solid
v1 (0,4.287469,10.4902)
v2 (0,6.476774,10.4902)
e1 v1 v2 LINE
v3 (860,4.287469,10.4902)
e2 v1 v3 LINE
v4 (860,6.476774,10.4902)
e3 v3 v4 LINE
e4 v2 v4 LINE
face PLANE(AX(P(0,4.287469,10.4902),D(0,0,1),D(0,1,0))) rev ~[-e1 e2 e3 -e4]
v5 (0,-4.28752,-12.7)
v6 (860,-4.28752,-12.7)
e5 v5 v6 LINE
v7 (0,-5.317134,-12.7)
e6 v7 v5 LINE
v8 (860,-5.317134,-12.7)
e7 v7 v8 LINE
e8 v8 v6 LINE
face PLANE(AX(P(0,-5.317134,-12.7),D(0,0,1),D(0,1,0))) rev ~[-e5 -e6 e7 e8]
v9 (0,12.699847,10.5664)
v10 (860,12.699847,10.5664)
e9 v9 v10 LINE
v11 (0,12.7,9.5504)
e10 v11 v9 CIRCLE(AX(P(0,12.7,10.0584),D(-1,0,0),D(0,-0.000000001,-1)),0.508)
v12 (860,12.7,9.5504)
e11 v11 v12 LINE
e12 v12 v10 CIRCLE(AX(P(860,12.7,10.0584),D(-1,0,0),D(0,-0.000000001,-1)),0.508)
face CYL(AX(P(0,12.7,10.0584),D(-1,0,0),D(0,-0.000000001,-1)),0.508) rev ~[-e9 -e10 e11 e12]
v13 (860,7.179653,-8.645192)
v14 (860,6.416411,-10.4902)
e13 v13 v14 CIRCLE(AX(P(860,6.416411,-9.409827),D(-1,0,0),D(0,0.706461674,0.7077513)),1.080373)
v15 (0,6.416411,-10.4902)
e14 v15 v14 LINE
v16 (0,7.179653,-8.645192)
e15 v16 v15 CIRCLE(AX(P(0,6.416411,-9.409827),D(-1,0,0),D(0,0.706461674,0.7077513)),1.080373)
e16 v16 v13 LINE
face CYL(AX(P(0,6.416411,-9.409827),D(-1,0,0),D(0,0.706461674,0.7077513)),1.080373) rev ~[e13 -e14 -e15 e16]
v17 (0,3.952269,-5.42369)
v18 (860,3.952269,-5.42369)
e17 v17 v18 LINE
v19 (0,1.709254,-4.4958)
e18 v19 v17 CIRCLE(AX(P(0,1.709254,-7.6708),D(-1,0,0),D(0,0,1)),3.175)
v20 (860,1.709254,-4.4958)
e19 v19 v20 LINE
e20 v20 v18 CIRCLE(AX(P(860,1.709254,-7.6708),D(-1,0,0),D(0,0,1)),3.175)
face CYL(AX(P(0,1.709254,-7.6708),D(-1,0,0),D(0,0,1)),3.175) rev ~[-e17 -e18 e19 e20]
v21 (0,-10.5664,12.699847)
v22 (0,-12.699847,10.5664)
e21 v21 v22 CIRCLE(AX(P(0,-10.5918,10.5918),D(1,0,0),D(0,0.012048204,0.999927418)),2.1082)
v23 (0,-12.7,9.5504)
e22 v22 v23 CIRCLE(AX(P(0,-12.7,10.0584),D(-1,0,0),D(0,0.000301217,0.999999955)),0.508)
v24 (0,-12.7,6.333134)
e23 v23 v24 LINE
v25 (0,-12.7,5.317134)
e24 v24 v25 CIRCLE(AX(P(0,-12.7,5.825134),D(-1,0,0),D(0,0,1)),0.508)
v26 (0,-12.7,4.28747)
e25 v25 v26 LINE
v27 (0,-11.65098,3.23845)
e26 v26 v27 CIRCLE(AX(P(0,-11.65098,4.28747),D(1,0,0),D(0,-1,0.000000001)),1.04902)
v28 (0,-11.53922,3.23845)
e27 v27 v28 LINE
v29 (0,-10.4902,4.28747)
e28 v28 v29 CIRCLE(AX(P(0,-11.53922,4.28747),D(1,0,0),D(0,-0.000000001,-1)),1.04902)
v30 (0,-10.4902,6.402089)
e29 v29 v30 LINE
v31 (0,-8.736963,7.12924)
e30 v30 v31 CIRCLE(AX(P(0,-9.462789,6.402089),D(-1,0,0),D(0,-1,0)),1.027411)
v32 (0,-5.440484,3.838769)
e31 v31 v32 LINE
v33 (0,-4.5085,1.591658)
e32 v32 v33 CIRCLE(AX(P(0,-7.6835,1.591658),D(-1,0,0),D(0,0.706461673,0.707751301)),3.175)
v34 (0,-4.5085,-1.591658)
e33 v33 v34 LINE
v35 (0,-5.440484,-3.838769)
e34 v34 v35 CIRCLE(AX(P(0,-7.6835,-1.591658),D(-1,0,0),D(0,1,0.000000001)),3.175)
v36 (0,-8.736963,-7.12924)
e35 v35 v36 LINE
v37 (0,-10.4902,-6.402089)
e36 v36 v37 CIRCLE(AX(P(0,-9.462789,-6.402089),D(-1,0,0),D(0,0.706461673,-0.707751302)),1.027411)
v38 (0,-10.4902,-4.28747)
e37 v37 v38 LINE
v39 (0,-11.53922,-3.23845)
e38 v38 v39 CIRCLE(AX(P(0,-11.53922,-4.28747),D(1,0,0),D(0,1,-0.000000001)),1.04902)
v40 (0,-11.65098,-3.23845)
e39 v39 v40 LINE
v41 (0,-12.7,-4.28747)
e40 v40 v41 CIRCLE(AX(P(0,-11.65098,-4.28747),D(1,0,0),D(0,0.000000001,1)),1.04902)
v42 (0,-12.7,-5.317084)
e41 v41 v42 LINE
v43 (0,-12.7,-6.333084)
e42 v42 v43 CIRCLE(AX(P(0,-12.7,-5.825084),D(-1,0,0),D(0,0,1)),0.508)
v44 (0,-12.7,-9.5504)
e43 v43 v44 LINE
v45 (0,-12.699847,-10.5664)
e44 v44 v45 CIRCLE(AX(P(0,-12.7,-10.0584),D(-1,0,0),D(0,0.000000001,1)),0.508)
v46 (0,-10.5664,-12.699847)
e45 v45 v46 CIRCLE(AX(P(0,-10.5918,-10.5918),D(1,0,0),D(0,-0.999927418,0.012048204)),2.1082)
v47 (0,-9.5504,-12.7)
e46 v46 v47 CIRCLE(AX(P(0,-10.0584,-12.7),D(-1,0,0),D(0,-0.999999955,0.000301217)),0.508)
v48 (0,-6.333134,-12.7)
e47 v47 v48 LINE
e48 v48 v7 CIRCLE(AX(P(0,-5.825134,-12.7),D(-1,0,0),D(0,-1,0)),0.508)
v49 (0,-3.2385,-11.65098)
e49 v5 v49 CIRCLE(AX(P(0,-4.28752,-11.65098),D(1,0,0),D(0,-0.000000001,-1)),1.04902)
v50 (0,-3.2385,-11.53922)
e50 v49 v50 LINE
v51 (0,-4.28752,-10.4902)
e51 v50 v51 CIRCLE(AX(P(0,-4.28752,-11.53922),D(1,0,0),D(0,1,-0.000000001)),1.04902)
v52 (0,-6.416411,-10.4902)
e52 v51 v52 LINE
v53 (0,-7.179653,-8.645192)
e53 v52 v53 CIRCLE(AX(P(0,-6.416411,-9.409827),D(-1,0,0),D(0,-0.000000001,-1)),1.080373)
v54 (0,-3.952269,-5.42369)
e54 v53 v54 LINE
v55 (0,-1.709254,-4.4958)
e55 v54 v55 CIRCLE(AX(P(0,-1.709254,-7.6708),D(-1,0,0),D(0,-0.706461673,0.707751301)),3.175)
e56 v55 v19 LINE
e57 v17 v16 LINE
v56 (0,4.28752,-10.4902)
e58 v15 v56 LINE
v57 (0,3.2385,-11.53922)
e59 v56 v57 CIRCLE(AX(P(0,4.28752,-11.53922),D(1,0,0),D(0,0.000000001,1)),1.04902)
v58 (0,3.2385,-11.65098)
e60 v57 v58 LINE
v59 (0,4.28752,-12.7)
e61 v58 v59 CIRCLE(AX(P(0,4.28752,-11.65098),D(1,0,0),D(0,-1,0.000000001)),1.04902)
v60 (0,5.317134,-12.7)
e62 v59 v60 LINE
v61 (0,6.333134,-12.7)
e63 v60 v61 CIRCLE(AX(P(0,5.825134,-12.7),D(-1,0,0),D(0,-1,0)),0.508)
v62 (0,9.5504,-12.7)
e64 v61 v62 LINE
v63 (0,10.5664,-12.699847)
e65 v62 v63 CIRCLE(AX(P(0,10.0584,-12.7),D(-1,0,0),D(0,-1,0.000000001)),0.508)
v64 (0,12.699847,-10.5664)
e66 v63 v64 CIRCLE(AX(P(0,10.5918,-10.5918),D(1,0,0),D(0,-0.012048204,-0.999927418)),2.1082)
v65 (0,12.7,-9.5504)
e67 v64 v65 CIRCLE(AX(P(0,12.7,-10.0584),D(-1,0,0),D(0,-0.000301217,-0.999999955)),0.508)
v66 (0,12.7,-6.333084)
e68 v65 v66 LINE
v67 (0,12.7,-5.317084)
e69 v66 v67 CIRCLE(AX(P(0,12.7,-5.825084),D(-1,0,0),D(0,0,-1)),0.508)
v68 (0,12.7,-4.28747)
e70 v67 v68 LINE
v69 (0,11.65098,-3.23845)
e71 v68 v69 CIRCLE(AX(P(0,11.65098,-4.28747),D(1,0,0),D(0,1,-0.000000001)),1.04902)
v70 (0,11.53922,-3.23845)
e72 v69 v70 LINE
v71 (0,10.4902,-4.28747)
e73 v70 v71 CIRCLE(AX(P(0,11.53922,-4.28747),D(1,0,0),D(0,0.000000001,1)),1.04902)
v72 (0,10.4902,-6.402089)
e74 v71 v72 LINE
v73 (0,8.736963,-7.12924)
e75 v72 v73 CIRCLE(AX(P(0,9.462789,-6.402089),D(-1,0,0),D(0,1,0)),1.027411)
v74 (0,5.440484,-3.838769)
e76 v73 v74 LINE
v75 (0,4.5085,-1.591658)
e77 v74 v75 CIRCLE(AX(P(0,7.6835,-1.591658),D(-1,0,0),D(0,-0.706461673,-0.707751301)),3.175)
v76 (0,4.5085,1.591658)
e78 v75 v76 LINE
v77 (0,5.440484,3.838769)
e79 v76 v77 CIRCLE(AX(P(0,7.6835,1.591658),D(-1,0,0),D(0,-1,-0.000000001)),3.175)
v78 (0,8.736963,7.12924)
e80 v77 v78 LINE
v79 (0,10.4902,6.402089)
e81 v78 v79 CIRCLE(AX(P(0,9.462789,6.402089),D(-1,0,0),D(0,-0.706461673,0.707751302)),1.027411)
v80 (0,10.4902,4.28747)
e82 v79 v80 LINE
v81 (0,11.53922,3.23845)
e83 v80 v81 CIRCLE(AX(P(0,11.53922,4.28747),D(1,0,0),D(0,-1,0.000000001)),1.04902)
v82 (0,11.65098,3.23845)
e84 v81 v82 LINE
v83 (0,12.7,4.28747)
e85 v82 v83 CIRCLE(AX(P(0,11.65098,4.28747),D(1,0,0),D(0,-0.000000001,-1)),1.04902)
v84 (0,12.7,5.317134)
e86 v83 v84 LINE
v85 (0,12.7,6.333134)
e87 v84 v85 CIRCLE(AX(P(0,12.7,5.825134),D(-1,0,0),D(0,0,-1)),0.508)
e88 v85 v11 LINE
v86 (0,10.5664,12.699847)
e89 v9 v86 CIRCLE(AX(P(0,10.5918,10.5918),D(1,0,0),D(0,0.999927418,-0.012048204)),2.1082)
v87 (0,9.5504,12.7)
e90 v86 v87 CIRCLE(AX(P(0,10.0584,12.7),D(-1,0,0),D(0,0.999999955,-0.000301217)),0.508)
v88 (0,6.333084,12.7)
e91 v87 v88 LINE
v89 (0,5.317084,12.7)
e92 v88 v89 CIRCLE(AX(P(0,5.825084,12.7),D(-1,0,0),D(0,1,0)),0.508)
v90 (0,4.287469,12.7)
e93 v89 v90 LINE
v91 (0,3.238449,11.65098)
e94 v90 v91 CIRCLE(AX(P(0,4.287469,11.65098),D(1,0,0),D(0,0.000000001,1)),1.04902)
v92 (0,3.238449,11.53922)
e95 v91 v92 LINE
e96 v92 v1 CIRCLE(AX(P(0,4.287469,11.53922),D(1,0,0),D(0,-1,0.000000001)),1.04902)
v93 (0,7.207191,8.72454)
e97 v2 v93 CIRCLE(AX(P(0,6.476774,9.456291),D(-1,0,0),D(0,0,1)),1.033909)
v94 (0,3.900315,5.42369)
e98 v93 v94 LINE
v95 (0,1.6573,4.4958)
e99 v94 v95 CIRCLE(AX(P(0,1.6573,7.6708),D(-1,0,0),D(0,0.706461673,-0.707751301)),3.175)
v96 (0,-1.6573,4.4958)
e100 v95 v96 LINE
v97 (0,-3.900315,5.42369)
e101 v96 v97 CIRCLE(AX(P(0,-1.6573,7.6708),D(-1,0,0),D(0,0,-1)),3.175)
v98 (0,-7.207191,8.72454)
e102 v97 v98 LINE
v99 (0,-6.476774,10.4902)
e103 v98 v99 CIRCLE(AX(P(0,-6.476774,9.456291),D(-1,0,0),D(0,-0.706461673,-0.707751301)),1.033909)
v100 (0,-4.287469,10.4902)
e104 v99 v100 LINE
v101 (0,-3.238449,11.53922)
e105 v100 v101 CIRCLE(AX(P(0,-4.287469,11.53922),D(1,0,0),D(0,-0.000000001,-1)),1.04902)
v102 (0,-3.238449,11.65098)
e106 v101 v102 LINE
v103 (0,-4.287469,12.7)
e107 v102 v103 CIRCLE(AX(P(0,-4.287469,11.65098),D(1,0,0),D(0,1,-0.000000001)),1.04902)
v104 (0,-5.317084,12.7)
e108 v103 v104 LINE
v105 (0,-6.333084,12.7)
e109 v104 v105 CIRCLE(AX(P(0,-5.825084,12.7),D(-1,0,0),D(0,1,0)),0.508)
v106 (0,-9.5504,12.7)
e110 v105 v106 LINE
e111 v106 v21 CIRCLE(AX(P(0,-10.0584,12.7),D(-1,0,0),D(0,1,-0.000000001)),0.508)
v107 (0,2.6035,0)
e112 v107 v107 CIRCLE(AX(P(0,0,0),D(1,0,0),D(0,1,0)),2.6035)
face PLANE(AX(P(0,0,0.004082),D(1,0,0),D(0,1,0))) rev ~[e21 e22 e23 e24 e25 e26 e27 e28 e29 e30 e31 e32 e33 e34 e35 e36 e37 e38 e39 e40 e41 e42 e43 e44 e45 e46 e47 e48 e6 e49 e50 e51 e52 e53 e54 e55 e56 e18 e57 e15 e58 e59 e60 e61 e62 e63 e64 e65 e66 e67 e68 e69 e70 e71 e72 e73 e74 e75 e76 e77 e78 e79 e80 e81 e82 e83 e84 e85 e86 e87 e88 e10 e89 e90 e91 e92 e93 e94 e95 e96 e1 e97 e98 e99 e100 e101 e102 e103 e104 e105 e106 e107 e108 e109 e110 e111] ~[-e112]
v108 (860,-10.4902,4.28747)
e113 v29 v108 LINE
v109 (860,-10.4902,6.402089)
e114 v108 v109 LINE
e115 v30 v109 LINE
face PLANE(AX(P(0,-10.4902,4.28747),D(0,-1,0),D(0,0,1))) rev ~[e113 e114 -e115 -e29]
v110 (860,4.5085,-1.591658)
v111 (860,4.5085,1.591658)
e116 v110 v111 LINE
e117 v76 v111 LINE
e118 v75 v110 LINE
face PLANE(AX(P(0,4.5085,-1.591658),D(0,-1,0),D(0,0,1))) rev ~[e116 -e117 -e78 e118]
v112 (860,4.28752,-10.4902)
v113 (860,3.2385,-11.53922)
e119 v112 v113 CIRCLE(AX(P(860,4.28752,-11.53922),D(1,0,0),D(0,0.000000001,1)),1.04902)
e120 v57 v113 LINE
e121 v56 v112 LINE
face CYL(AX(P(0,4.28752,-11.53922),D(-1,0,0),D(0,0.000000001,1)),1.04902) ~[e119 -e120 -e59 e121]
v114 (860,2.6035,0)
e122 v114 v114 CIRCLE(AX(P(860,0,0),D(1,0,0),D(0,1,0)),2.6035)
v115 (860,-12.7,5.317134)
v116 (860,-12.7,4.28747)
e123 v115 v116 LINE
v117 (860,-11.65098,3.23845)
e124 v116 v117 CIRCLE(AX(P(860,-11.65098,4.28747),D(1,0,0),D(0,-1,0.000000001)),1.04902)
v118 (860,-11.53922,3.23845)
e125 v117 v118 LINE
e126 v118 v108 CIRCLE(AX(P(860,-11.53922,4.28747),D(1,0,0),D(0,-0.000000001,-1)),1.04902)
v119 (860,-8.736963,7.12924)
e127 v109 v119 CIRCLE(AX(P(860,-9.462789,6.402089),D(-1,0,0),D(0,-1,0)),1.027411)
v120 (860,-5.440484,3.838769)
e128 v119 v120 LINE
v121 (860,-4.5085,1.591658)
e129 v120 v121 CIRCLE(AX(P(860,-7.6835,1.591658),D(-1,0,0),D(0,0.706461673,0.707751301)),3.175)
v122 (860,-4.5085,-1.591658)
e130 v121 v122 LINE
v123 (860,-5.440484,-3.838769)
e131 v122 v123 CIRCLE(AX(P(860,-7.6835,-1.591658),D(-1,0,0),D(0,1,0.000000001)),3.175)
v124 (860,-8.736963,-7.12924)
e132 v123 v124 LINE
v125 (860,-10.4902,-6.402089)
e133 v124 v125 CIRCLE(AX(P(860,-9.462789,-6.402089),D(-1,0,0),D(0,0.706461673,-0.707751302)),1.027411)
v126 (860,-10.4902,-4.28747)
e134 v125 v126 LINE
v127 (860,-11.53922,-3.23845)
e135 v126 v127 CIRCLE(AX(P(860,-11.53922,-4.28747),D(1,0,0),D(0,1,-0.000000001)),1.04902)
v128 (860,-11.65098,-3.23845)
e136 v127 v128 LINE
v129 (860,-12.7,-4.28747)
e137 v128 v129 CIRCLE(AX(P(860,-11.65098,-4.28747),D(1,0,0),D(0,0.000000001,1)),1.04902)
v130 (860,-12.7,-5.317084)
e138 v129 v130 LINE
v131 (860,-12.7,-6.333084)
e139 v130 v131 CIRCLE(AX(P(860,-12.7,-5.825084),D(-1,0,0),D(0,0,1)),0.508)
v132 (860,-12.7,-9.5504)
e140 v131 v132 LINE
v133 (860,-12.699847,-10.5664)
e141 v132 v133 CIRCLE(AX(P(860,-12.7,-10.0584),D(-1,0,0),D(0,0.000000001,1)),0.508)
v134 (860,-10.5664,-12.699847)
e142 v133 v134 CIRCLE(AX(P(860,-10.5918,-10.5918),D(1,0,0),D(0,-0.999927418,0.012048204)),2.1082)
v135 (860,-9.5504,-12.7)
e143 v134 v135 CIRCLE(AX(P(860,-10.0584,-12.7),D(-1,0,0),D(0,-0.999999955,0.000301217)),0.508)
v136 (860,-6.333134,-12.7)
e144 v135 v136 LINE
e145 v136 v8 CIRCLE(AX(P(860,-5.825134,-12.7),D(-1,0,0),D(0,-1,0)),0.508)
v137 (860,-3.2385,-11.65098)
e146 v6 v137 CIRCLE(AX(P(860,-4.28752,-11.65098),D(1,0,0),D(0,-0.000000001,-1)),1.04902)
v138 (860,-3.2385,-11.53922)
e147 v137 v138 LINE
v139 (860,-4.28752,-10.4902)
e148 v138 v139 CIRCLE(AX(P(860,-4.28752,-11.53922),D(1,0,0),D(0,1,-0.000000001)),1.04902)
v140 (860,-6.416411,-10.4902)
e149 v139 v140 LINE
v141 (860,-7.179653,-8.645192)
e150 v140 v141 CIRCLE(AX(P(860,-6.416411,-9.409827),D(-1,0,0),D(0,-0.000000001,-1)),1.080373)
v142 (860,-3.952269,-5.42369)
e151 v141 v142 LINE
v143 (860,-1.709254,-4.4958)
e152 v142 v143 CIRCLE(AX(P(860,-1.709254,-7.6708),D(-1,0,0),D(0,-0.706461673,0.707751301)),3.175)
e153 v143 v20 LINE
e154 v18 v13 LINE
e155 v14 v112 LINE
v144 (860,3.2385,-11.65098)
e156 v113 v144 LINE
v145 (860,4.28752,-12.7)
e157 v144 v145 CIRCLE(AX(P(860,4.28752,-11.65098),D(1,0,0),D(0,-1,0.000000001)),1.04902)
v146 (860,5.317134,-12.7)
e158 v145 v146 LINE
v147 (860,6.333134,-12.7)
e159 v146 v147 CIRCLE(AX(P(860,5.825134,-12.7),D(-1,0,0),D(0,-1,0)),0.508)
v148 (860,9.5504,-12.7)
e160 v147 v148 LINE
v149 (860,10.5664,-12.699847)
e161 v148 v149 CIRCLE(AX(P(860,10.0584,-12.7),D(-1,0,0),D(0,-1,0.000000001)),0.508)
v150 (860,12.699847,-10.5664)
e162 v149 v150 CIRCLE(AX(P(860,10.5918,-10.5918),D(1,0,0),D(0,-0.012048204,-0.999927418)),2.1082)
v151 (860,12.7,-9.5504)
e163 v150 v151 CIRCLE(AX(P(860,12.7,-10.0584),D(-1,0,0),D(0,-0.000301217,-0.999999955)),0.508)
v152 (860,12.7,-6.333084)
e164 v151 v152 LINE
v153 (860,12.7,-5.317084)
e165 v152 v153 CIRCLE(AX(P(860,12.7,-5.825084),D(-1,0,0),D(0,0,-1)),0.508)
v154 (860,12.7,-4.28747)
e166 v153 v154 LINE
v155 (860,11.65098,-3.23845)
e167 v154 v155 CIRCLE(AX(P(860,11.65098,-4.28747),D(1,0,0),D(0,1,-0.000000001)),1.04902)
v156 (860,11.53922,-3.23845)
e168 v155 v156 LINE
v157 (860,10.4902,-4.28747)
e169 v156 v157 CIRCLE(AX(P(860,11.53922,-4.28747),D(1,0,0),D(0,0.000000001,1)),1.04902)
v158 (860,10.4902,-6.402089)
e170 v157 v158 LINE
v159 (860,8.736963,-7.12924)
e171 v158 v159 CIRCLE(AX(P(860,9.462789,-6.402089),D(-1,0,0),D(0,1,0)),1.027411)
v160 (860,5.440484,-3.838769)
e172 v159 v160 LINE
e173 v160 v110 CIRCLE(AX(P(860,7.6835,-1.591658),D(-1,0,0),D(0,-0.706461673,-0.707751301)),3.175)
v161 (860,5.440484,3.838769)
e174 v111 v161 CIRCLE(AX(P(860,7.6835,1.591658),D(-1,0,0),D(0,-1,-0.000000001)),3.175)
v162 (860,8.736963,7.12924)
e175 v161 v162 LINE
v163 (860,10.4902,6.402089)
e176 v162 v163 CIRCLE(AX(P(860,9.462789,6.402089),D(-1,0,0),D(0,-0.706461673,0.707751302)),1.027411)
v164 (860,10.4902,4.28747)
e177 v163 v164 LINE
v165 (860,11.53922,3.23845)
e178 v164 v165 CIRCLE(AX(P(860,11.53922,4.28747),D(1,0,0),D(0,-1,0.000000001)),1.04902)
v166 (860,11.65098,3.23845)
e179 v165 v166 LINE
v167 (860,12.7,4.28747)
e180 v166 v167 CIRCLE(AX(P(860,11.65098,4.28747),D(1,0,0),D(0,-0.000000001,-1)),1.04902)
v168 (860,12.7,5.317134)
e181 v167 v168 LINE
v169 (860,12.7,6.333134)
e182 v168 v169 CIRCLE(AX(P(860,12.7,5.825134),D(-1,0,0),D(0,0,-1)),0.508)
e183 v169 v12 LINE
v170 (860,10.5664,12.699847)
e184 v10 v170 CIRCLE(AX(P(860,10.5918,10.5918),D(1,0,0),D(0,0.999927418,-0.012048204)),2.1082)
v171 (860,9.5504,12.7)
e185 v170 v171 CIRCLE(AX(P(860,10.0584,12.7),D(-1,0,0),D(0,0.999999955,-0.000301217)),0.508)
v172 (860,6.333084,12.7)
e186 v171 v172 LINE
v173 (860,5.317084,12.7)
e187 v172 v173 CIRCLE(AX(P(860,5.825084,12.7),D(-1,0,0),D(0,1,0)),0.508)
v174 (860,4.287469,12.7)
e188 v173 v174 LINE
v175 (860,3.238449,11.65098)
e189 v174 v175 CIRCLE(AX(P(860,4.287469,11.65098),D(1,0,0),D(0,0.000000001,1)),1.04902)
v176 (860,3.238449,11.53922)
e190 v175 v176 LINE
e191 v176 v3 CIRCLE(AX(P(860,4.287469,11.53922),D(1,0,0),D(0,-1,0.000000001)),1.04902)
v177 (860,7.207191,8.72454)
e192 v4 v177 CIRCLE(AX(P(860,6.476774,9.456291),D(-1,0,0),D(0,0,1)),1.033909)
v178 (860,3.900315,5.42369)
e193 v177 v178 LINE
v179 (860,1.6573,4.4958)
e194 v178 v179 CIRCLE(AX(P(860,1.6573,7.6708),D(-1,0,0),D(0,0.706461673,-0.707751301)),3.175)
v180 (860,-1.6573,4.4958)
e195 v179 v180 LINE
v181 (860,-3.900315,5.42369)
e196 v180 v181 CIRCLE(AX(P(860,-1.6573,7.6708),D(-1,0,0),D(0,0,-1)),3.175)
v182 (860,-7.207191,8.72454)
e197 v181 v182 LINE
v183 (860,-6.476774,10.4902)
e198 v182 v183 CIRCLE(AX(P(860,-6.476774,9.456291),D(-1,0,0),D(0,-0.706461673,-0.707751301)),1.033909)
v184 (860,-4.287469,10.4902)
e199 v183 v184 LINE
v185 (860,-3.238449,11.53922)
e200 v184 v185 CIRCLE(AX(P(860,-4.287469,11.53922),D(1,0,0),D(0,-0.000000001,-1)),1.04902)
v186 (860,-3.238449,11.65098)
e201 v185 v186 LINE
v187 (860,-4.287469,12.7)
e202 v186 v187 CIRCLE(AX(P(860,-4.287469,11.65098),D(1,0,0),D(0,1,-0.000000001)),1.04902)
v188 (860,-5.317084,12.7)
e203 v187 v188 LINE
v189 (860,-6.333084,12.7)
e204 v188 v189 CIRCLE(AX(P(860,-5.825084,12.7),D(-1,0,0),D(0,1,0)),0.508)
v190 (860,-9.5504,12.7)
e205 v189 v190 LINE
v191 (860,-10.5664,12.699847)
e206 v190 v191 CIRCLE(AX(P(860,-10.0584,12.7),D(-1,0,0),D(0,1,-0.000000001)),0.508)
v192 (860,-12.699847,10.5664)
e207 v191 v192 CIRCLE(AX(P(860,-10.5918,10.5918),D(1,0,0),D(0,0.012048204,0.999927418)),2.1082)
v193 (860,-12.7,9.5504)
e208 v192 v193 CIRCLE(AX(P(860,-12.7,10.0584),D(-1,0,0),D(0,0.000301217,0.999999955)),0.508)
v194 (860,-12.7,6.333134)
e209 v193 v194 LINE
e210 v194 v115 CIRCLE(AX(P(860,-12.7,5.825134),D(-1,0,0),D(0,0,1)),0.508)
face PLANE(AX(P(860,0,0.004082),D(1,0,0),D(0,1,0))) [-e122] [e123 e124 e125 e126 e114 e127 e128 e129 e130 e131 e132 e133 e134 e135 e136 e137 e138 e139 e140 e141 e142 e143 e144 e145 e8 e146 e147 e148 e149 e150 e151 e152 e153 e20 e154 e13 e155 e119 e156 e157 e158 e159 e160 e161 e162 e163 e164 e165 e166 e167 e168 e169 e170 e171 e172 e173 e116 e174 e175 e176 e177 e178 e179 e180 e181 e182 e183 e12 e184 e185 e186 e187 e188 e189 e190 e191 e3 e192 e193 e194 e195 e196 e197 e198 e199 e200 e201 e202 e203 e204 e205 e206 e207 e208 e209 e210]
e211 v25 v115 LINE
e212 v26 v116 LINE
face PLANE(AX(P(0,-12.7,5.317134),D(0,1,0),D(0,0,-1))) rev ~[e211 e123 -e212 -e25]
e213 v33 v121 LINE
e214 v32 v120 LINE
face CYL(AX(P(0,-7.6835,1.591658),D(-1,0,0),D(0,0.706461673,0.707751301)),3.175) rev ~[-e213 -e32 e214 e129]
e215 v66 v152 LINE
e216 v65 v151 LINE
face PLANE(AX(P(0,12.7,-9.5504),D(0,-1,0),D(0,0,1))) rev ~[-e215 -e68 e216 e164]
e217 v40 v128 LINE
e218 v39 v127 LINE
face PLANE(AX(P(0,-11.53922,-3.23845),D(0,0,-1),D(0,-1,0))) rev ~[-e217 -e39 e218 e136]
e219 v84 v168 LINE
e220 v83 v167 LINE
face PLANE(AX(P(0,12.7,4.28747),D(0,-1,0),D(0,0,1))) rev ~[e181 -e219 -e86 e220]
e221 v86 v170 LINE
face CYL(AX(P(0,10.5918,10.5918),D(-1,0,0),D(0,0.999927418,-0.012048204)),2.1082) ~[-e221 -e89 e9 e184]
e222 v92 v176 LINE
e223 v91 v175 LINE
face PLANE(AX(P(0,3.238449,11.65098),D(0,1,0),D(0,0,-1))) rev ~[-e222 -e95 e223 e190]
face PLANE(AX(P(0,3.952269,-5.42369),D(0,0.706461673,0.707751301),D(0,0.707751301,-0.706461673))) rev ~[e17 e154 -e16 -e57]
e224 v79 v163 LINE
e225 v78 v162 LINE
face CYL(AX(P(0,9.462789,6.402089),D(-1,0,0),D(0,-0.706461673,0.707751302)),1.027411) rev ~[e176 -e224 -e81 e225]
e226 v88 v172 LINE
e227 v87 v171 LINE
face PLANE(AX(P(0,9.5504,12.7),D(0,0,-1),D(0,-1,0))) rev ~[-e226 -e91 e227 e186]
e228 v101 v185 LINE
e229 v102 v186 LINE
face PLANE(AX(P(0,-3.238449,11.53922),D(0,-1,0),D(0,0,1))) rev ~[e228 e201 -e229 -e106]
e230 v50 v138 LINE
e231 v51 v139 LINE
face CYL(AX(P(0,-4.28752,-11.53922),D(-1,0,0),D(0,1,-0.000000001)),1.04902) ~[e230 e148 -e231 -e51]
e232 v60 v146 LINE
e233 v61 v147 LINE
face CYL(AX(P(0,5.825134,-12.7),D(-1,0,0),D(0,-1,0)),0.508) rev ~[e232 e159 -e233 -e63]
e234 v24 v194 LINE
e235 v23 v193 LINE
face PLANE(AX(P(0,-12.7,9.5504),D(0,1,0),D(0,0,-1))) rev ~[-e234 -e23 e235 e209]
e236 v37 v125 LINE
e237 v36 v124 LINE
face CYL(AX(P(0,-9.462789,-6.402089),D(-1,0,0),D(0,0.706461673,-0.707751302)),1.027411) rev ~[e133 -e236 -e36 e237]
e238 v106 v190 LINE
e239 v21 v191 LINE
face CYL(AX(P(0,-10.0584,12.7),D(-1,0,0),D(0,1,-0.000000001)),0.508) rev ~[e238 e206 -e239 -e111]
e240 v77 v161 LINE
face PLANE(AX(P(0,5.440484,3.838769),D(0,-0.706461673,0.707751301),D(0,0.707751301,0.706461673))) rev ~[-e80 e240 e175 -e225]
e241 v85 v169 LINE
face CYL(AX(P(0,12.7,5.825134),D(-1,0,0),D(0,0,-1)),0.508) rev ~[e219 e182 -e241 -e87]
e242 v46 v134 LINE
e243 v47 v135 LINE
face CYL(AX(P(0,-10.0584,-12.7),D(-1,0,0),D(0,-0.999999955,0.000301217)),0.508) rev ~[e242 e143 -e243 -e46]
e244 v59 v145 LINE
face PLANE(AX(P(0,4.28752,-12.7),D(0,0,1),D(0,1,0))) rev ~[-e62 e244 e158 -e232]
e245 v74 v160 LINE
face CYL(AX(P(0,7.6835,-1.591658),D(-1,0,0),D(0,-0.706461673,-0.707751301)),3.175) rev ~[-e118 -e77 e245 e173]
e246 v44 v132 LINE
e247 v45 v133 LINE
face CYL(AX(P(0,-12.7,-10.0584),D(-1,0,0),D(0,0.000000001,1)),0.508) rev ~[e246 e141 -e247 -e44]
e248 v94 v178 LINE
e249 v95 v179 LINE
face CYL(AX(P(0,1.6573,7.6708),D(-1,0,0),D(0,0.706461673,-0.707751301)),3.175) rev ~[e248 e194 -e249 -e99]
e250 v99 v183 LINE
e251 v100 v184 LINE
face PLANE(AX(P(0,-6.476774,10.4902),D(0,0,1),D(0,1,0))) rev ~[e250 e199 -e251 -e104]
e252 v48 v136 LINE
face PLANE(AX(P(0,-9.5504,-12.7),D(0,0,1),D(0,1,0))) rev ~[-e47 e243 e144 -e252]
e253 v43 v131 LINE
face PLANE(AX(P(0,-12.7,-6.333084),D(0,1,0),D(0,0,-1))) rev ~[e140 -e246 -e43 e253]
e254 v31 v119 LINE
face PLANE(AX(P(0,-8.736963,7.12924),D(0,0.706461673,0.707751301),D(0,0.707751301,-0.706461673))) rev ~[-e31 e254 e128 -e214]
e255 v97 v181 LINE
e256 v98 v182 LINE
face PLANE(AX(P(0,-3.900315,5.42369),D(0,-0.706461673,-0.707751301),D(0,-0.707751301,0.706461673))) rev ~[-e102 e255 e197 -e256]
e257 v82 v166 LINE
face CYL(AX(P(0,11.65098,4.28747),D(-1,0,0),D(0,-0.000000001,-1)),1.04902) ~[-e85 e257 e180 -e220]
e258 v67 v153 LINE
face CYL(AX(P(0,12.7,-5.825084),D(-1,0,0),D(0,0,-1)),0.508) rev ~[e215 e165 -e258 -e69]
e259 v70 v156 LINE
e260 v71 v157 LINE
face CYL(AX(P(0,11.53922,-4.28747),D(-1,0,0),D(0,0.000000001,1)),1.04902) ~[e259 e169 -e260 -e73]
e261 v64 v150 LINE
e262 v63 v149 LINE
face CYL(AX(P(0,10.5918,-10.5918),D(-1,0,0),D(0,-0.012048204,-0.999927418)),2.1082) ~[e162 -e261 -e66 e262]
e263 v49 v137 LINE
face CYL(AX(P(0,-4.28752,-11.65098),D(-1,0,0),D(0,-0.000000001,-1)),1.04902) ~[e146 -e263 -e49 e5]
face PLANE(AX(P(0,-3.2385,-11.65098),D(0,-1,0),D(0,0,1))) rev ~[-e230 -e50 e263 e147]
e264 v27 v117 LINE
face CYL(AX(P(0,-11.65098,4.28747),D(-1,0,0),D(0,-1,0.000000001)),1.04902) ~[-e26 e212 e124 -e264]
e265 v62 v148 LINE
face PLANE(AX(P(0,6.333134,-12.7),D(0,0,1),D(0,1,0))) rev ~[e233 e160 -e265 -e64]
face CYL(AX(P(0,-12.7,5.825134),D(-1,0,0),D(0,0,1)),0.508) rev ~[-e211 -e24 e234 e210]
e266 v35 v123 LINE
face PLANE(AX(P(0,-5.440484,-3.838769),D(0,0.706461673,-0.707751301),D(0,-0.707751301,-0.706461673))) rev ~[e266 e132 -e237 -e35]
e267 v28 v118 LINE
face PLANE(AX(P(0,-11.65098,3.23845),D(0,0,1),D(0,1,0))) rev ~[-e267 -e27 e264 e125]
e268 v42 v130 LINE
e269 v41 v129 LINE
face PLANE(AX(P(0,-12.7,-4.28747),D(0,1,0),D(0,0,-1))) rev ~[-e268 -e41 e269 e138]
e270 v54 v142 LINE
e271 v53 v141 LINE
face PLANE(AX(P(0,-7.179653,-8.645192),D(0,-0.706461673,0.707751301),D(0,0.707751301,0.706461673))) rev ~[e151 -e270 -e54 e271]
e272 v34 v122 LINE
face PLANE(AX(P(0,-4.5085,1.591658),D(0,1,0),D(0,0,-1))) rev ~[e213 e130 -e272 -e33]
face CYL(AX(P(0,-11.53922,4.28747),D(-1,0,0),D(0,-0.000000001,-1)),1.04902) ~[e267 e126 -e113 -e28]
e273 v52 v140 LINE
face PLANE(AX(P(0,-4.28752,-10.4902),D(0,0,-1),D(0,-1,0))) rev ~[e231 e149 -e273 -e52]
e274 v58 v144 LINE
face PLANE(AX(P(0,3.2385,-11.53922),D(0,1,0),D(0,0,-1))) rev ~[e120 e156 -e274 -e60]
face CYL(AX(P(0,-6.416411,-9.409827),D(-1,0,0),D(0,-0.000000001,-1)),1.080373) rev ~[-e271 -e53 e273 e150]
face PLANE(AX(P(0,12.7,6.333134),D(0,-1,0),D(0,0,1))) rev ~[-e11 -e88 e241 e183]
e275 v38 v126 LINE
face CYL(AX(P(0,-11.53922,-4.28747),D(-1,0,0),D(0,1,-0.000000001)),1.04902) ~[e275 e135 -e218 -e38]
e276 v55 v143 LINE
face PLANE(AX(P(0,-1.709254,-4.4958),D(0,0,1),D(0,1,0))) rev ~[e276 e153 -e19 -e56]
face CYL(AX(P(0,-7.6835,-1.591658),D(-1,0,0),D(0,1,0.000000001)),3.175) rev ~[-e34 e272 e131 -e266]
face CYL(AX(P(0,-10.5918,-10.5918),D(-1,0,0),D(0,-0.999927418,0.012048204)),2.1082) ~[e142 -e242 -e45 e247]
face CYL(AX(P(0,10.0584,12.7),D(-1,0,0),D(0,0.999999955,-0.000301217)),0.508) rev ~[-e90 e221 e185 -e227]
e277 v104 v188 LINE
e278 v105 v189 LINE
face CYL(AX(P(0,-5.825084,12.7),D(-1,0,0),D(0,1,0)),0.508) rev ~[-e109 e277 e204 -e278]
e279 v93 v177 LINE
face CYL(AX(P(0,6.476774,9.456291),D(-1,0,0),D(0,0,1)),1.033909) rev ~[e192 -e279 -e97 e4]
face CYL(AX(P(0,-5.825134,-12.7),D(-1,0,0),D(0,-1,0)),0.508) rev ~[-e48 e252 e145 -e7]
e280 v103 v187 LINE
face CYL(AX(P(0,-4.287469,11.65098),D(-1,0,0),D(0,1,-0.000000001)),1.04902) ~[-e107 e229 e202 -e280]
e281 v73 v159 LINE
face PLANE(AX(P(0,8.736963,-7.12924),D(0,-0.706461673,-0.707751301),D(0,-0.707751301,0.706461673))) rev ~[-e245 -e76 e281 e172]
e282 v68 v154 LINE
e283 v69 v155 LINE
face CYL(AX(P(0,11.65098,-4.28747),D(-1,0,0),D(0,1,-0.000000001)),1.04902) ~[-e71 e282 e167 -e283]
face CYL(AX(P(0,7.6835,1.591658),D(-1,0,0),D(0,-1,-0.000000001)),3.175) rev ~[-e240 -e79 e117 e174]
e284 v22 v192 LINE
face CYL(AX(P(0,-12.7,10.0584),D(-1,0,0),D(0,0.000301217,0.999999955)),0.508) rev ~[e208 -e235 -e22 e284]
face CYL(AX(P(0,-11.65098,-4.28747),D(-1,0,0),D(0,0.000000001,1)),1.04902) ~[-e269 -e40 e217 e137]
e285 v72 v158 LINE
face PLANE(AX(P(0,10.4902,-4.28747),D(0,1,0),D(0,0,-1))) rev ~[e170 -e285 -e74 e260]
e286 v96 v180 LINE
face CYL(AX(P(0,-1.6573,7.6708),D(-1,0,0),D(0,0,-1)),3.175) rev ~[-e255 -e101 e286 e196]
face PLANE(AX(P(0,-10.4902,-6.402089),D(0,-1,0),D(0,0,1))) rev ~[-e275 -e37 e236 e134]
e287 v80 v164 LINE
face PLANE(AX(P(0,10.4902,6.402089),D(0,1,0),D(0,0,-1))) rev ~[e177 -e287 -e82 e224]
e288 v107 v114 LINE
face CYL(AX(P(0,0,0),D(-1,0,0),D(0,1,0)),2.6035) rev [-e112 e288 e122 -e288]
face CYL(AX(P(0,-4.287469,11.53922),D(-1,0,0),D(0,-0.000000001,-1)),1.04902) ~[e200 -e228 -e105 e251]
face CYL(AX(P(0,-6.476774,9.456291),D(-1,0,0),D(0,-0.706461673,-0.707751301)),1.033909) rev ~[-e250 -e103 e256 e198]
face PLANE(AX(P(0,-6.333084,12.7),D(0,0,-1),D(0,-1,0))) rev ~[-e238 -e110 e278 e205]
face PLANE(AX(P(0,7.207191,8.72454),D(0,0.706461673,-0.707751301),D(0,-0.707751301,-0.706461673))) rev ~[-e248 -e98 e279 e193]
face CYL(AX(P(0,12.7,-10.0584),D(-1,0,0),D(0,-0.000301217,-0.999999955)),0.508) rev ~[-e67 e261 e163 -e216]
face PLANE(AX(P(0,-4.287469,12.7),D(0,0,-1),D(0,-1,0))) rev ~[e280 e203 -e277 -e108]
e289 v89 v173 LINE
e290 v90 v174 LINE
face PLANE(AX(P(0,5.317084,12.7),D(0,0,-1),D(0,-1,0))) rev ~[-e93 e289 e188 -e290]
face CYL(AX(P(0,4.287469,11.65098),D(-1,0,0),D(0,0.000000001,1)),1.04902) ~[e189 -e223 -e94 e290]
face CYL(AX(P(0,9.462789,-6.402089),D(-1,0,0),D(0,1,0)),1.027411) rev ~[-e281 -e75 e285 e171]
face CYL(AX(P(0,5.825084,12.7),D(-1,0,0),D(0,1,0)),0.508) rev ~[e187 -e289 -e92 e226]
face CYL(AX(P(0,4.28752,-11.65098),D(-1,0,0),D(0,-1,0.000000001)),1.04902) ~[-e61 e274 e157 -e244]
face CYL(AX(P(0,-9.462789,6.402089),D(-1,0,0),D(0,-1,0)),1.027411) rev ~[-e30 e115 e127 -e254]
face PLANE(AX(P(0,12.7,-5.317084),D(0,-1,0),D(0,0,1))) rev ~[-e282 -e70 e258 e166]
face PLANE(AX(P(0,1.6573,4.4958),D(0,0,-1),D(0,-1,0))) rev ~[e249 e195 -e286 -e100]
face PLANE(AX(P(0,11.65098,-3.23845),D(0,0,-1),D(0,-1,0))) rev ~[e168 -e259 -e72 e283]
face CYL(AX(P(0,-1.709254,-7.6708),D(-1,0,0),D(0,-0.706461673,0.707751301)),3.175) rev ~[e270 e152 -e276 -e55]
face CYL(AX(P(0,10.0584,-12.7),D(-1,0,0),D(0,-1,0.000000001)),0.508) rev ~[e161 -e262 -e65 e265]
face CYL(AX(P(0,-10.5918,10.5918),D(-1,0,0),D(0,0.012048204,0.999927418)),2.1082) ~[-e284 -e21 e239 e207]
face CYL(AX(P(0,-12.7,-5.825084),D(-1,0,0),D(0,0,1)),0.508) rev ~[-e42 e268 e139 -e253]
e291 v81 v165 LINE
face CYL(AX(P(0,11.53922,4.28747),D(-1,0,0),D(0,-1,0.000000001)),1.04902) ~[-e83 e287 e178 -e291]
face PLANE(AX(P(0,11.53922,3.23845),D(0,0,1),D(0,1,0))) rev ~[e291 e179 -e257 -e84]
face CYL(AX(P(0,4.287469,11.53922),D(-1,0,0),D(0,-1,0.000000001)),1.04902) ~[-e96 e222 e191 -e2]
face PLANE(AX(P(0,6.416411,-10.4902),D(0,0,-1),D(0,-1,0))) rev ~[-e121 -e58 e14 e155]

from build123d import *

# Parameters (mm, degrees)
SKETCH16_R                     = 2.6035
EXTRUSION_1010_PROFILE_1_DEPTH = 860


with BuildPart() as part:
    # Sketch16 → Extrusion 1010 PROFILE(1) (new body)
    with BuildSketch(Plane.YZ):
        with BuildLine():
            Line((-1.709253557, -4.4958), (1.709253557, -4.4958))
            ThreePointArc((1.709253557, -4.4958), (2.922935876, -4.736928798), (3.95226937, -5.423689619))
            Line((3.95226937, -5.423689619), (7.179652728, -8.645192207))
            ThreePointArc((7.179652728, -8.645192207), (7.414733441, -9.822812921), (6.41641086, -10.4902))
            Line((6.41641086, -10.4902), (4.28752, -10.4902))
            ThreePointArc((4.28752, -10.4902), (3.545750844, -10.797450844), (3.2385, -11.53922))
            Line((3.2385, -11.53922), (3.2385, -11.65098))
            ThreePointArc((3.2385, -11.65098), (3.545750844, -12.392749156), (4.28752, -12.7))
            Line((4.28752, -12.7), (5.3171344, -12.7))
            ThreePointArc((5.3171344, -12.7), (5.8251344, -12.192), (6.3331344, -12.7))
            Line((6.3331344, -12.7), (9.5504, -12.7))
            ThreePointArc((9.5504, -12.7), (10.058323491, -12.192000006), (10.566399977, -12.699846982))
            ThreePointArc((10.566399977, -12.699846982), (12.082522516, -12.082522516), (12.699846982, -10.566399977))
            ThreePointArc((12.699846982, -10.566399977), (12.192000006, -10.058323491), (12.7, -9.5504))
            Line((12.7, -9.5504), (12.7, -6.3330836))
            ThreePointArc((12.7, -6.3330836), (12.192, -5.8250836), (12.7, -5.3170836))
            Line((12.7, -5.3170836), (12.7, -4.287470133))
            ThreePointArc((12.7, -4.287470133), (12.392749156, -3.545700977), (11.65098, -3.238450133))
            Line((11.65098, -3.238450133), (11.53922, -3.238450133))
            ThreePointArc((11.53922, -3.238450133), (10.797450844, -3.545700977), (10.4902, -4.287470133))
            Line((10.4902, -4.287470133), (10.4902, -6.402089023))
            ThreePointArc((10.4902, -6.402089023), (9.856394933, -7.351113629), (8.736962546, -7.129240479))
            Line((8.736962546, -7.129240479), (5.440484187, -3.838768792))
            ThreePointArc((5.440484187, -3.838768792), (4.75073678, -2.808015636), (4.5085, -1.591658411))
            Line((4.5085, -1.591658411), (4.5085, 1.591658411))
            ThreePointArc((4.5085, 1.591658411), (4.75073678, 2.808015636), (5.440484187, 3.838768792))
            Line((5.440484187, 3.838768792), (8.736962546, 7.129240479))
            ThreePointArc((8.736962546, 7.129240479), (9.856394933, 7.351113629), (10.4902, 6.402089023))
            Line((10.4902, 6.402089023), (10.4902, 4.287470133))
            ThreePointArc((10.4902, 4.287470133), (10.797450844, 3.545700977), (11.53922, 3.238450133))
            Line((11.53922, 3.238450133), (11.65098, 3.238450133))
            ThreePointArc((11.65098, 3.238450133), (12.392749156, 3.545700977), (12.7, 4.287470133))
            Line((12.7, 4.287470133), (12.7, 5.3171344))
            ThreePointArc((12.7, 5.3171344), (12.192, 5.8251344), (12.7, 6.3331344))
            Line((12.7, 6.3331344), (12.7, 9.5504))
            ThreePointArc((12.7, 9.5504), (12.192000006, 10.058323491), (12.699846982, 10.566399977))
            ThreePointArc((12.699846982, 10.566399977), (12.082522516, 12.082522516), (10.566399977, 12.699846982))
            ThreePointArc((10.566399977, 12.699846982), (10.058323491, 12.192000006), (9.5504, 12.7))
            Line((9.5504, 12.7), (6.3330836, 12.7))
            ThreePointArc((6.3330836, 12.7), (5.8250836, 12.192), (5.3170836, 12.7))
            Line((5.3170836, 12.7), (4.2874692, 12.7))
            ThreePointArc((4.2874692, 12.7), (3.545700044, 12.392749156), (3.2384492, 11.65098))
            Line((3.2384492, 11.65098), (3.2384492, 11.53922))
            ThreePointArc((3.2384492, 11.53922), (3.545700044, 10.797450844), (4.2874692, 10.4902))
            Line((4.2874692, 10.4902), (6.476774195, 10.4902))
            ThreePointArc((6.476774195, 10.4902), (7.43216212, 9.851515102), (7.207191475, 8.724540082))
            Line((7.207191475, 8.724540082), (3.900315394, 5.423689619))
            ThreePointArc((3.900315394, 5.423689619), (2.8709819, 4.736928798), (1.657299581, 4.4958))
            Line((1.657299581, 4.4958), (-1.657299581, 4.4958))
            ThreePointArc((-1.657299581, 4.4958), (-2.8709819, 4.736928798), (-3.900315394, 5.423689619))
            Line((-3.900315394, 5.423689619), (-7.207191475, 8.724540082))
            ThreePointArc((-7.207191475, 8.724540082), (-7.43216212, 9.851515102), (-6.476774195, 10.4902))
            Line((-6.476774195, 10.4902), (-4.2874692, 10.4902))
            ThreePointArc((-4.2874692, 10.4902), (-3.545700044, 10.797450844), (-3.2384492, 11.53922))
            Line((-3.2384492, 11.53922), (-3.2384492, 11.65098))
            ThreePointArc((-3.2384492, 11.65098), (-3.545700044, 12.392749156), (-4.2874692, 12.7))
            Line((-4.2874692, 12.7), (-5.3170836, 12.7))
            ThreePointArc((-5.3170836, 12.7), (-5.8250836, 12.192), (-6.3330836, 12.7))
            Line((-6.3330836, 12.7), (-9.5504, 12.7))
            ThreePointArc((-9.5504, 12.7), (-10.058323491, 12.192000006), (-10.566399977, 12.699846982))
            ThreePointArc((-10.566399977, 12.699846982), (-12.082522516, 12.082522516), (-12.699846982, 10.566399977))
            ThreePointArc((-12.699846982, 10.566399977), (-12.192000006, 10.058323491), (-12.7, 9.5504))
            Line((-12.7, 9.5504), (-12.7, 6.3331344))
            ThreePointArc((-12.7, 6.3331344), (-12.192, 5.8251344), (-12.7, 5.3171344))
            Line((-12.7, 5.3171344), (-12.7, 4.287470133))
            ThreePointArc((-12.7, 4.287470133), (-12.392749156, 3.545700977), (-11.65098, 3.238450133))
            Line((-11.65098, 3.238450133), (-11.53922, 3.238450133))
            ThreePointArc((-11.53922, 3.238450133), (-10.797450844, 3.545700977), (-10.4902, 4.287470133))
            Line((-10.4902, 4.287470133), (-10.4902, 6.402089023))
            ThreePointArc((-10.4902, 6.402089023), (-9.856394933, 7.351113629), (-8.736962546, 7.129240479))
            Line((-8.736962546, 7.129240479), (-5.440484187, 3.838768792))
            ThreePointArc((-5.440484187, 3.838768792), (-4.75073678, 2.808015636), (-4.5085, 1.591658411))
            Line((-4.5085, 1.591658411), (-4.5085, -1.591658411))
            ThreePointArc((-4.5085, -1.591658411), (-4.75073678, -2.808015636), (-5.440484187, -3.838768792))
            Line((-5.440484187, -3.838768792), (-8.736962546, -7.129240479))
            ThreePointArc((-8.736962546, -7.129240479), (-9.856394933, -7.351113629), (-10.4902, -6.402089023))
            Line((-10.4902, -6.402089023), (-10.4902, -4.287470133))
            ThreePointArc((-10.4902, -4.287470133), (-10.797450844, -3.545700977), (-11.53922, -3.238450133))
            Line((-11.53922, -3.238450133), (-11.65098, -3.238450133))
            ThreePointArc((-11.65098, -3.238450133), (-12.392749156, -3.545700977), (-12.7, -4.287470133))
            Line((-12.7, -4.287470133), (-12.7, -5.3170836))
            ThreePointArc((-12.7, -5.3170836), (-12.192, -5.8250836), (-12.7, -6.3330836))
            Line((-12.7, -6.3330836), (-12.7, -9.5504))
            ThreePointArc((-12.7, -9.5504), (-12.192000006, -10.058323491), (-12.699846982, -10.566399977))
            ThreePointArc((-12.699846982, -10.566399977), (-12.082522516, -12.082522516), (-10.566399977, -12.699846982))
            ThreePointArc((-10.566399977, -12.699846982), (-10.058323491, -12.192000006), (-9.5504, -12.7))
            Line((-9.5504, -12.7), (-6.3331344, -12.7))
            ThreePointArc((-6.3331344, -12.7), (-5.8251344, -12.192), (-5.3171344, -12.7))
            Line((-5.3171344, -12.7), (-4.28752, -12.7))
            ThreePointArc((-4.28752, -12.7), (-3.545750844, -12.392749156), (-3.2385, -11.65098))
            Line((-3.2385, -11.65098), (-3.2385, -11.53922))
            ThreePointArc((-3.2385, -11.53922), (-3.545750844, -10.797450844), (-4.28752, -10.4902))
            Line((-4.28752, -10.4902), (-6.41641086, -10.4902))
            ThreePointArc((-6.41641086, -10.4902), (-7.414733441, -9.822812921), (-7.179652728, -8.645192207))
            Line((-7.179652728, -8.645192207), (-3.95226937, -5.423689619))
            ThreePointArc((-3.95226937, -5.423689619), (-2.922935876, -4.736928798), (-1.709253557, -4.4958))
        make_face()
        Circle(SKETCH16_R, mode=Mode.SUBTRACT)
    extrude(amount=EXTRUSION_1010_PROFILE_1_DEPTH)


solid = part.part
